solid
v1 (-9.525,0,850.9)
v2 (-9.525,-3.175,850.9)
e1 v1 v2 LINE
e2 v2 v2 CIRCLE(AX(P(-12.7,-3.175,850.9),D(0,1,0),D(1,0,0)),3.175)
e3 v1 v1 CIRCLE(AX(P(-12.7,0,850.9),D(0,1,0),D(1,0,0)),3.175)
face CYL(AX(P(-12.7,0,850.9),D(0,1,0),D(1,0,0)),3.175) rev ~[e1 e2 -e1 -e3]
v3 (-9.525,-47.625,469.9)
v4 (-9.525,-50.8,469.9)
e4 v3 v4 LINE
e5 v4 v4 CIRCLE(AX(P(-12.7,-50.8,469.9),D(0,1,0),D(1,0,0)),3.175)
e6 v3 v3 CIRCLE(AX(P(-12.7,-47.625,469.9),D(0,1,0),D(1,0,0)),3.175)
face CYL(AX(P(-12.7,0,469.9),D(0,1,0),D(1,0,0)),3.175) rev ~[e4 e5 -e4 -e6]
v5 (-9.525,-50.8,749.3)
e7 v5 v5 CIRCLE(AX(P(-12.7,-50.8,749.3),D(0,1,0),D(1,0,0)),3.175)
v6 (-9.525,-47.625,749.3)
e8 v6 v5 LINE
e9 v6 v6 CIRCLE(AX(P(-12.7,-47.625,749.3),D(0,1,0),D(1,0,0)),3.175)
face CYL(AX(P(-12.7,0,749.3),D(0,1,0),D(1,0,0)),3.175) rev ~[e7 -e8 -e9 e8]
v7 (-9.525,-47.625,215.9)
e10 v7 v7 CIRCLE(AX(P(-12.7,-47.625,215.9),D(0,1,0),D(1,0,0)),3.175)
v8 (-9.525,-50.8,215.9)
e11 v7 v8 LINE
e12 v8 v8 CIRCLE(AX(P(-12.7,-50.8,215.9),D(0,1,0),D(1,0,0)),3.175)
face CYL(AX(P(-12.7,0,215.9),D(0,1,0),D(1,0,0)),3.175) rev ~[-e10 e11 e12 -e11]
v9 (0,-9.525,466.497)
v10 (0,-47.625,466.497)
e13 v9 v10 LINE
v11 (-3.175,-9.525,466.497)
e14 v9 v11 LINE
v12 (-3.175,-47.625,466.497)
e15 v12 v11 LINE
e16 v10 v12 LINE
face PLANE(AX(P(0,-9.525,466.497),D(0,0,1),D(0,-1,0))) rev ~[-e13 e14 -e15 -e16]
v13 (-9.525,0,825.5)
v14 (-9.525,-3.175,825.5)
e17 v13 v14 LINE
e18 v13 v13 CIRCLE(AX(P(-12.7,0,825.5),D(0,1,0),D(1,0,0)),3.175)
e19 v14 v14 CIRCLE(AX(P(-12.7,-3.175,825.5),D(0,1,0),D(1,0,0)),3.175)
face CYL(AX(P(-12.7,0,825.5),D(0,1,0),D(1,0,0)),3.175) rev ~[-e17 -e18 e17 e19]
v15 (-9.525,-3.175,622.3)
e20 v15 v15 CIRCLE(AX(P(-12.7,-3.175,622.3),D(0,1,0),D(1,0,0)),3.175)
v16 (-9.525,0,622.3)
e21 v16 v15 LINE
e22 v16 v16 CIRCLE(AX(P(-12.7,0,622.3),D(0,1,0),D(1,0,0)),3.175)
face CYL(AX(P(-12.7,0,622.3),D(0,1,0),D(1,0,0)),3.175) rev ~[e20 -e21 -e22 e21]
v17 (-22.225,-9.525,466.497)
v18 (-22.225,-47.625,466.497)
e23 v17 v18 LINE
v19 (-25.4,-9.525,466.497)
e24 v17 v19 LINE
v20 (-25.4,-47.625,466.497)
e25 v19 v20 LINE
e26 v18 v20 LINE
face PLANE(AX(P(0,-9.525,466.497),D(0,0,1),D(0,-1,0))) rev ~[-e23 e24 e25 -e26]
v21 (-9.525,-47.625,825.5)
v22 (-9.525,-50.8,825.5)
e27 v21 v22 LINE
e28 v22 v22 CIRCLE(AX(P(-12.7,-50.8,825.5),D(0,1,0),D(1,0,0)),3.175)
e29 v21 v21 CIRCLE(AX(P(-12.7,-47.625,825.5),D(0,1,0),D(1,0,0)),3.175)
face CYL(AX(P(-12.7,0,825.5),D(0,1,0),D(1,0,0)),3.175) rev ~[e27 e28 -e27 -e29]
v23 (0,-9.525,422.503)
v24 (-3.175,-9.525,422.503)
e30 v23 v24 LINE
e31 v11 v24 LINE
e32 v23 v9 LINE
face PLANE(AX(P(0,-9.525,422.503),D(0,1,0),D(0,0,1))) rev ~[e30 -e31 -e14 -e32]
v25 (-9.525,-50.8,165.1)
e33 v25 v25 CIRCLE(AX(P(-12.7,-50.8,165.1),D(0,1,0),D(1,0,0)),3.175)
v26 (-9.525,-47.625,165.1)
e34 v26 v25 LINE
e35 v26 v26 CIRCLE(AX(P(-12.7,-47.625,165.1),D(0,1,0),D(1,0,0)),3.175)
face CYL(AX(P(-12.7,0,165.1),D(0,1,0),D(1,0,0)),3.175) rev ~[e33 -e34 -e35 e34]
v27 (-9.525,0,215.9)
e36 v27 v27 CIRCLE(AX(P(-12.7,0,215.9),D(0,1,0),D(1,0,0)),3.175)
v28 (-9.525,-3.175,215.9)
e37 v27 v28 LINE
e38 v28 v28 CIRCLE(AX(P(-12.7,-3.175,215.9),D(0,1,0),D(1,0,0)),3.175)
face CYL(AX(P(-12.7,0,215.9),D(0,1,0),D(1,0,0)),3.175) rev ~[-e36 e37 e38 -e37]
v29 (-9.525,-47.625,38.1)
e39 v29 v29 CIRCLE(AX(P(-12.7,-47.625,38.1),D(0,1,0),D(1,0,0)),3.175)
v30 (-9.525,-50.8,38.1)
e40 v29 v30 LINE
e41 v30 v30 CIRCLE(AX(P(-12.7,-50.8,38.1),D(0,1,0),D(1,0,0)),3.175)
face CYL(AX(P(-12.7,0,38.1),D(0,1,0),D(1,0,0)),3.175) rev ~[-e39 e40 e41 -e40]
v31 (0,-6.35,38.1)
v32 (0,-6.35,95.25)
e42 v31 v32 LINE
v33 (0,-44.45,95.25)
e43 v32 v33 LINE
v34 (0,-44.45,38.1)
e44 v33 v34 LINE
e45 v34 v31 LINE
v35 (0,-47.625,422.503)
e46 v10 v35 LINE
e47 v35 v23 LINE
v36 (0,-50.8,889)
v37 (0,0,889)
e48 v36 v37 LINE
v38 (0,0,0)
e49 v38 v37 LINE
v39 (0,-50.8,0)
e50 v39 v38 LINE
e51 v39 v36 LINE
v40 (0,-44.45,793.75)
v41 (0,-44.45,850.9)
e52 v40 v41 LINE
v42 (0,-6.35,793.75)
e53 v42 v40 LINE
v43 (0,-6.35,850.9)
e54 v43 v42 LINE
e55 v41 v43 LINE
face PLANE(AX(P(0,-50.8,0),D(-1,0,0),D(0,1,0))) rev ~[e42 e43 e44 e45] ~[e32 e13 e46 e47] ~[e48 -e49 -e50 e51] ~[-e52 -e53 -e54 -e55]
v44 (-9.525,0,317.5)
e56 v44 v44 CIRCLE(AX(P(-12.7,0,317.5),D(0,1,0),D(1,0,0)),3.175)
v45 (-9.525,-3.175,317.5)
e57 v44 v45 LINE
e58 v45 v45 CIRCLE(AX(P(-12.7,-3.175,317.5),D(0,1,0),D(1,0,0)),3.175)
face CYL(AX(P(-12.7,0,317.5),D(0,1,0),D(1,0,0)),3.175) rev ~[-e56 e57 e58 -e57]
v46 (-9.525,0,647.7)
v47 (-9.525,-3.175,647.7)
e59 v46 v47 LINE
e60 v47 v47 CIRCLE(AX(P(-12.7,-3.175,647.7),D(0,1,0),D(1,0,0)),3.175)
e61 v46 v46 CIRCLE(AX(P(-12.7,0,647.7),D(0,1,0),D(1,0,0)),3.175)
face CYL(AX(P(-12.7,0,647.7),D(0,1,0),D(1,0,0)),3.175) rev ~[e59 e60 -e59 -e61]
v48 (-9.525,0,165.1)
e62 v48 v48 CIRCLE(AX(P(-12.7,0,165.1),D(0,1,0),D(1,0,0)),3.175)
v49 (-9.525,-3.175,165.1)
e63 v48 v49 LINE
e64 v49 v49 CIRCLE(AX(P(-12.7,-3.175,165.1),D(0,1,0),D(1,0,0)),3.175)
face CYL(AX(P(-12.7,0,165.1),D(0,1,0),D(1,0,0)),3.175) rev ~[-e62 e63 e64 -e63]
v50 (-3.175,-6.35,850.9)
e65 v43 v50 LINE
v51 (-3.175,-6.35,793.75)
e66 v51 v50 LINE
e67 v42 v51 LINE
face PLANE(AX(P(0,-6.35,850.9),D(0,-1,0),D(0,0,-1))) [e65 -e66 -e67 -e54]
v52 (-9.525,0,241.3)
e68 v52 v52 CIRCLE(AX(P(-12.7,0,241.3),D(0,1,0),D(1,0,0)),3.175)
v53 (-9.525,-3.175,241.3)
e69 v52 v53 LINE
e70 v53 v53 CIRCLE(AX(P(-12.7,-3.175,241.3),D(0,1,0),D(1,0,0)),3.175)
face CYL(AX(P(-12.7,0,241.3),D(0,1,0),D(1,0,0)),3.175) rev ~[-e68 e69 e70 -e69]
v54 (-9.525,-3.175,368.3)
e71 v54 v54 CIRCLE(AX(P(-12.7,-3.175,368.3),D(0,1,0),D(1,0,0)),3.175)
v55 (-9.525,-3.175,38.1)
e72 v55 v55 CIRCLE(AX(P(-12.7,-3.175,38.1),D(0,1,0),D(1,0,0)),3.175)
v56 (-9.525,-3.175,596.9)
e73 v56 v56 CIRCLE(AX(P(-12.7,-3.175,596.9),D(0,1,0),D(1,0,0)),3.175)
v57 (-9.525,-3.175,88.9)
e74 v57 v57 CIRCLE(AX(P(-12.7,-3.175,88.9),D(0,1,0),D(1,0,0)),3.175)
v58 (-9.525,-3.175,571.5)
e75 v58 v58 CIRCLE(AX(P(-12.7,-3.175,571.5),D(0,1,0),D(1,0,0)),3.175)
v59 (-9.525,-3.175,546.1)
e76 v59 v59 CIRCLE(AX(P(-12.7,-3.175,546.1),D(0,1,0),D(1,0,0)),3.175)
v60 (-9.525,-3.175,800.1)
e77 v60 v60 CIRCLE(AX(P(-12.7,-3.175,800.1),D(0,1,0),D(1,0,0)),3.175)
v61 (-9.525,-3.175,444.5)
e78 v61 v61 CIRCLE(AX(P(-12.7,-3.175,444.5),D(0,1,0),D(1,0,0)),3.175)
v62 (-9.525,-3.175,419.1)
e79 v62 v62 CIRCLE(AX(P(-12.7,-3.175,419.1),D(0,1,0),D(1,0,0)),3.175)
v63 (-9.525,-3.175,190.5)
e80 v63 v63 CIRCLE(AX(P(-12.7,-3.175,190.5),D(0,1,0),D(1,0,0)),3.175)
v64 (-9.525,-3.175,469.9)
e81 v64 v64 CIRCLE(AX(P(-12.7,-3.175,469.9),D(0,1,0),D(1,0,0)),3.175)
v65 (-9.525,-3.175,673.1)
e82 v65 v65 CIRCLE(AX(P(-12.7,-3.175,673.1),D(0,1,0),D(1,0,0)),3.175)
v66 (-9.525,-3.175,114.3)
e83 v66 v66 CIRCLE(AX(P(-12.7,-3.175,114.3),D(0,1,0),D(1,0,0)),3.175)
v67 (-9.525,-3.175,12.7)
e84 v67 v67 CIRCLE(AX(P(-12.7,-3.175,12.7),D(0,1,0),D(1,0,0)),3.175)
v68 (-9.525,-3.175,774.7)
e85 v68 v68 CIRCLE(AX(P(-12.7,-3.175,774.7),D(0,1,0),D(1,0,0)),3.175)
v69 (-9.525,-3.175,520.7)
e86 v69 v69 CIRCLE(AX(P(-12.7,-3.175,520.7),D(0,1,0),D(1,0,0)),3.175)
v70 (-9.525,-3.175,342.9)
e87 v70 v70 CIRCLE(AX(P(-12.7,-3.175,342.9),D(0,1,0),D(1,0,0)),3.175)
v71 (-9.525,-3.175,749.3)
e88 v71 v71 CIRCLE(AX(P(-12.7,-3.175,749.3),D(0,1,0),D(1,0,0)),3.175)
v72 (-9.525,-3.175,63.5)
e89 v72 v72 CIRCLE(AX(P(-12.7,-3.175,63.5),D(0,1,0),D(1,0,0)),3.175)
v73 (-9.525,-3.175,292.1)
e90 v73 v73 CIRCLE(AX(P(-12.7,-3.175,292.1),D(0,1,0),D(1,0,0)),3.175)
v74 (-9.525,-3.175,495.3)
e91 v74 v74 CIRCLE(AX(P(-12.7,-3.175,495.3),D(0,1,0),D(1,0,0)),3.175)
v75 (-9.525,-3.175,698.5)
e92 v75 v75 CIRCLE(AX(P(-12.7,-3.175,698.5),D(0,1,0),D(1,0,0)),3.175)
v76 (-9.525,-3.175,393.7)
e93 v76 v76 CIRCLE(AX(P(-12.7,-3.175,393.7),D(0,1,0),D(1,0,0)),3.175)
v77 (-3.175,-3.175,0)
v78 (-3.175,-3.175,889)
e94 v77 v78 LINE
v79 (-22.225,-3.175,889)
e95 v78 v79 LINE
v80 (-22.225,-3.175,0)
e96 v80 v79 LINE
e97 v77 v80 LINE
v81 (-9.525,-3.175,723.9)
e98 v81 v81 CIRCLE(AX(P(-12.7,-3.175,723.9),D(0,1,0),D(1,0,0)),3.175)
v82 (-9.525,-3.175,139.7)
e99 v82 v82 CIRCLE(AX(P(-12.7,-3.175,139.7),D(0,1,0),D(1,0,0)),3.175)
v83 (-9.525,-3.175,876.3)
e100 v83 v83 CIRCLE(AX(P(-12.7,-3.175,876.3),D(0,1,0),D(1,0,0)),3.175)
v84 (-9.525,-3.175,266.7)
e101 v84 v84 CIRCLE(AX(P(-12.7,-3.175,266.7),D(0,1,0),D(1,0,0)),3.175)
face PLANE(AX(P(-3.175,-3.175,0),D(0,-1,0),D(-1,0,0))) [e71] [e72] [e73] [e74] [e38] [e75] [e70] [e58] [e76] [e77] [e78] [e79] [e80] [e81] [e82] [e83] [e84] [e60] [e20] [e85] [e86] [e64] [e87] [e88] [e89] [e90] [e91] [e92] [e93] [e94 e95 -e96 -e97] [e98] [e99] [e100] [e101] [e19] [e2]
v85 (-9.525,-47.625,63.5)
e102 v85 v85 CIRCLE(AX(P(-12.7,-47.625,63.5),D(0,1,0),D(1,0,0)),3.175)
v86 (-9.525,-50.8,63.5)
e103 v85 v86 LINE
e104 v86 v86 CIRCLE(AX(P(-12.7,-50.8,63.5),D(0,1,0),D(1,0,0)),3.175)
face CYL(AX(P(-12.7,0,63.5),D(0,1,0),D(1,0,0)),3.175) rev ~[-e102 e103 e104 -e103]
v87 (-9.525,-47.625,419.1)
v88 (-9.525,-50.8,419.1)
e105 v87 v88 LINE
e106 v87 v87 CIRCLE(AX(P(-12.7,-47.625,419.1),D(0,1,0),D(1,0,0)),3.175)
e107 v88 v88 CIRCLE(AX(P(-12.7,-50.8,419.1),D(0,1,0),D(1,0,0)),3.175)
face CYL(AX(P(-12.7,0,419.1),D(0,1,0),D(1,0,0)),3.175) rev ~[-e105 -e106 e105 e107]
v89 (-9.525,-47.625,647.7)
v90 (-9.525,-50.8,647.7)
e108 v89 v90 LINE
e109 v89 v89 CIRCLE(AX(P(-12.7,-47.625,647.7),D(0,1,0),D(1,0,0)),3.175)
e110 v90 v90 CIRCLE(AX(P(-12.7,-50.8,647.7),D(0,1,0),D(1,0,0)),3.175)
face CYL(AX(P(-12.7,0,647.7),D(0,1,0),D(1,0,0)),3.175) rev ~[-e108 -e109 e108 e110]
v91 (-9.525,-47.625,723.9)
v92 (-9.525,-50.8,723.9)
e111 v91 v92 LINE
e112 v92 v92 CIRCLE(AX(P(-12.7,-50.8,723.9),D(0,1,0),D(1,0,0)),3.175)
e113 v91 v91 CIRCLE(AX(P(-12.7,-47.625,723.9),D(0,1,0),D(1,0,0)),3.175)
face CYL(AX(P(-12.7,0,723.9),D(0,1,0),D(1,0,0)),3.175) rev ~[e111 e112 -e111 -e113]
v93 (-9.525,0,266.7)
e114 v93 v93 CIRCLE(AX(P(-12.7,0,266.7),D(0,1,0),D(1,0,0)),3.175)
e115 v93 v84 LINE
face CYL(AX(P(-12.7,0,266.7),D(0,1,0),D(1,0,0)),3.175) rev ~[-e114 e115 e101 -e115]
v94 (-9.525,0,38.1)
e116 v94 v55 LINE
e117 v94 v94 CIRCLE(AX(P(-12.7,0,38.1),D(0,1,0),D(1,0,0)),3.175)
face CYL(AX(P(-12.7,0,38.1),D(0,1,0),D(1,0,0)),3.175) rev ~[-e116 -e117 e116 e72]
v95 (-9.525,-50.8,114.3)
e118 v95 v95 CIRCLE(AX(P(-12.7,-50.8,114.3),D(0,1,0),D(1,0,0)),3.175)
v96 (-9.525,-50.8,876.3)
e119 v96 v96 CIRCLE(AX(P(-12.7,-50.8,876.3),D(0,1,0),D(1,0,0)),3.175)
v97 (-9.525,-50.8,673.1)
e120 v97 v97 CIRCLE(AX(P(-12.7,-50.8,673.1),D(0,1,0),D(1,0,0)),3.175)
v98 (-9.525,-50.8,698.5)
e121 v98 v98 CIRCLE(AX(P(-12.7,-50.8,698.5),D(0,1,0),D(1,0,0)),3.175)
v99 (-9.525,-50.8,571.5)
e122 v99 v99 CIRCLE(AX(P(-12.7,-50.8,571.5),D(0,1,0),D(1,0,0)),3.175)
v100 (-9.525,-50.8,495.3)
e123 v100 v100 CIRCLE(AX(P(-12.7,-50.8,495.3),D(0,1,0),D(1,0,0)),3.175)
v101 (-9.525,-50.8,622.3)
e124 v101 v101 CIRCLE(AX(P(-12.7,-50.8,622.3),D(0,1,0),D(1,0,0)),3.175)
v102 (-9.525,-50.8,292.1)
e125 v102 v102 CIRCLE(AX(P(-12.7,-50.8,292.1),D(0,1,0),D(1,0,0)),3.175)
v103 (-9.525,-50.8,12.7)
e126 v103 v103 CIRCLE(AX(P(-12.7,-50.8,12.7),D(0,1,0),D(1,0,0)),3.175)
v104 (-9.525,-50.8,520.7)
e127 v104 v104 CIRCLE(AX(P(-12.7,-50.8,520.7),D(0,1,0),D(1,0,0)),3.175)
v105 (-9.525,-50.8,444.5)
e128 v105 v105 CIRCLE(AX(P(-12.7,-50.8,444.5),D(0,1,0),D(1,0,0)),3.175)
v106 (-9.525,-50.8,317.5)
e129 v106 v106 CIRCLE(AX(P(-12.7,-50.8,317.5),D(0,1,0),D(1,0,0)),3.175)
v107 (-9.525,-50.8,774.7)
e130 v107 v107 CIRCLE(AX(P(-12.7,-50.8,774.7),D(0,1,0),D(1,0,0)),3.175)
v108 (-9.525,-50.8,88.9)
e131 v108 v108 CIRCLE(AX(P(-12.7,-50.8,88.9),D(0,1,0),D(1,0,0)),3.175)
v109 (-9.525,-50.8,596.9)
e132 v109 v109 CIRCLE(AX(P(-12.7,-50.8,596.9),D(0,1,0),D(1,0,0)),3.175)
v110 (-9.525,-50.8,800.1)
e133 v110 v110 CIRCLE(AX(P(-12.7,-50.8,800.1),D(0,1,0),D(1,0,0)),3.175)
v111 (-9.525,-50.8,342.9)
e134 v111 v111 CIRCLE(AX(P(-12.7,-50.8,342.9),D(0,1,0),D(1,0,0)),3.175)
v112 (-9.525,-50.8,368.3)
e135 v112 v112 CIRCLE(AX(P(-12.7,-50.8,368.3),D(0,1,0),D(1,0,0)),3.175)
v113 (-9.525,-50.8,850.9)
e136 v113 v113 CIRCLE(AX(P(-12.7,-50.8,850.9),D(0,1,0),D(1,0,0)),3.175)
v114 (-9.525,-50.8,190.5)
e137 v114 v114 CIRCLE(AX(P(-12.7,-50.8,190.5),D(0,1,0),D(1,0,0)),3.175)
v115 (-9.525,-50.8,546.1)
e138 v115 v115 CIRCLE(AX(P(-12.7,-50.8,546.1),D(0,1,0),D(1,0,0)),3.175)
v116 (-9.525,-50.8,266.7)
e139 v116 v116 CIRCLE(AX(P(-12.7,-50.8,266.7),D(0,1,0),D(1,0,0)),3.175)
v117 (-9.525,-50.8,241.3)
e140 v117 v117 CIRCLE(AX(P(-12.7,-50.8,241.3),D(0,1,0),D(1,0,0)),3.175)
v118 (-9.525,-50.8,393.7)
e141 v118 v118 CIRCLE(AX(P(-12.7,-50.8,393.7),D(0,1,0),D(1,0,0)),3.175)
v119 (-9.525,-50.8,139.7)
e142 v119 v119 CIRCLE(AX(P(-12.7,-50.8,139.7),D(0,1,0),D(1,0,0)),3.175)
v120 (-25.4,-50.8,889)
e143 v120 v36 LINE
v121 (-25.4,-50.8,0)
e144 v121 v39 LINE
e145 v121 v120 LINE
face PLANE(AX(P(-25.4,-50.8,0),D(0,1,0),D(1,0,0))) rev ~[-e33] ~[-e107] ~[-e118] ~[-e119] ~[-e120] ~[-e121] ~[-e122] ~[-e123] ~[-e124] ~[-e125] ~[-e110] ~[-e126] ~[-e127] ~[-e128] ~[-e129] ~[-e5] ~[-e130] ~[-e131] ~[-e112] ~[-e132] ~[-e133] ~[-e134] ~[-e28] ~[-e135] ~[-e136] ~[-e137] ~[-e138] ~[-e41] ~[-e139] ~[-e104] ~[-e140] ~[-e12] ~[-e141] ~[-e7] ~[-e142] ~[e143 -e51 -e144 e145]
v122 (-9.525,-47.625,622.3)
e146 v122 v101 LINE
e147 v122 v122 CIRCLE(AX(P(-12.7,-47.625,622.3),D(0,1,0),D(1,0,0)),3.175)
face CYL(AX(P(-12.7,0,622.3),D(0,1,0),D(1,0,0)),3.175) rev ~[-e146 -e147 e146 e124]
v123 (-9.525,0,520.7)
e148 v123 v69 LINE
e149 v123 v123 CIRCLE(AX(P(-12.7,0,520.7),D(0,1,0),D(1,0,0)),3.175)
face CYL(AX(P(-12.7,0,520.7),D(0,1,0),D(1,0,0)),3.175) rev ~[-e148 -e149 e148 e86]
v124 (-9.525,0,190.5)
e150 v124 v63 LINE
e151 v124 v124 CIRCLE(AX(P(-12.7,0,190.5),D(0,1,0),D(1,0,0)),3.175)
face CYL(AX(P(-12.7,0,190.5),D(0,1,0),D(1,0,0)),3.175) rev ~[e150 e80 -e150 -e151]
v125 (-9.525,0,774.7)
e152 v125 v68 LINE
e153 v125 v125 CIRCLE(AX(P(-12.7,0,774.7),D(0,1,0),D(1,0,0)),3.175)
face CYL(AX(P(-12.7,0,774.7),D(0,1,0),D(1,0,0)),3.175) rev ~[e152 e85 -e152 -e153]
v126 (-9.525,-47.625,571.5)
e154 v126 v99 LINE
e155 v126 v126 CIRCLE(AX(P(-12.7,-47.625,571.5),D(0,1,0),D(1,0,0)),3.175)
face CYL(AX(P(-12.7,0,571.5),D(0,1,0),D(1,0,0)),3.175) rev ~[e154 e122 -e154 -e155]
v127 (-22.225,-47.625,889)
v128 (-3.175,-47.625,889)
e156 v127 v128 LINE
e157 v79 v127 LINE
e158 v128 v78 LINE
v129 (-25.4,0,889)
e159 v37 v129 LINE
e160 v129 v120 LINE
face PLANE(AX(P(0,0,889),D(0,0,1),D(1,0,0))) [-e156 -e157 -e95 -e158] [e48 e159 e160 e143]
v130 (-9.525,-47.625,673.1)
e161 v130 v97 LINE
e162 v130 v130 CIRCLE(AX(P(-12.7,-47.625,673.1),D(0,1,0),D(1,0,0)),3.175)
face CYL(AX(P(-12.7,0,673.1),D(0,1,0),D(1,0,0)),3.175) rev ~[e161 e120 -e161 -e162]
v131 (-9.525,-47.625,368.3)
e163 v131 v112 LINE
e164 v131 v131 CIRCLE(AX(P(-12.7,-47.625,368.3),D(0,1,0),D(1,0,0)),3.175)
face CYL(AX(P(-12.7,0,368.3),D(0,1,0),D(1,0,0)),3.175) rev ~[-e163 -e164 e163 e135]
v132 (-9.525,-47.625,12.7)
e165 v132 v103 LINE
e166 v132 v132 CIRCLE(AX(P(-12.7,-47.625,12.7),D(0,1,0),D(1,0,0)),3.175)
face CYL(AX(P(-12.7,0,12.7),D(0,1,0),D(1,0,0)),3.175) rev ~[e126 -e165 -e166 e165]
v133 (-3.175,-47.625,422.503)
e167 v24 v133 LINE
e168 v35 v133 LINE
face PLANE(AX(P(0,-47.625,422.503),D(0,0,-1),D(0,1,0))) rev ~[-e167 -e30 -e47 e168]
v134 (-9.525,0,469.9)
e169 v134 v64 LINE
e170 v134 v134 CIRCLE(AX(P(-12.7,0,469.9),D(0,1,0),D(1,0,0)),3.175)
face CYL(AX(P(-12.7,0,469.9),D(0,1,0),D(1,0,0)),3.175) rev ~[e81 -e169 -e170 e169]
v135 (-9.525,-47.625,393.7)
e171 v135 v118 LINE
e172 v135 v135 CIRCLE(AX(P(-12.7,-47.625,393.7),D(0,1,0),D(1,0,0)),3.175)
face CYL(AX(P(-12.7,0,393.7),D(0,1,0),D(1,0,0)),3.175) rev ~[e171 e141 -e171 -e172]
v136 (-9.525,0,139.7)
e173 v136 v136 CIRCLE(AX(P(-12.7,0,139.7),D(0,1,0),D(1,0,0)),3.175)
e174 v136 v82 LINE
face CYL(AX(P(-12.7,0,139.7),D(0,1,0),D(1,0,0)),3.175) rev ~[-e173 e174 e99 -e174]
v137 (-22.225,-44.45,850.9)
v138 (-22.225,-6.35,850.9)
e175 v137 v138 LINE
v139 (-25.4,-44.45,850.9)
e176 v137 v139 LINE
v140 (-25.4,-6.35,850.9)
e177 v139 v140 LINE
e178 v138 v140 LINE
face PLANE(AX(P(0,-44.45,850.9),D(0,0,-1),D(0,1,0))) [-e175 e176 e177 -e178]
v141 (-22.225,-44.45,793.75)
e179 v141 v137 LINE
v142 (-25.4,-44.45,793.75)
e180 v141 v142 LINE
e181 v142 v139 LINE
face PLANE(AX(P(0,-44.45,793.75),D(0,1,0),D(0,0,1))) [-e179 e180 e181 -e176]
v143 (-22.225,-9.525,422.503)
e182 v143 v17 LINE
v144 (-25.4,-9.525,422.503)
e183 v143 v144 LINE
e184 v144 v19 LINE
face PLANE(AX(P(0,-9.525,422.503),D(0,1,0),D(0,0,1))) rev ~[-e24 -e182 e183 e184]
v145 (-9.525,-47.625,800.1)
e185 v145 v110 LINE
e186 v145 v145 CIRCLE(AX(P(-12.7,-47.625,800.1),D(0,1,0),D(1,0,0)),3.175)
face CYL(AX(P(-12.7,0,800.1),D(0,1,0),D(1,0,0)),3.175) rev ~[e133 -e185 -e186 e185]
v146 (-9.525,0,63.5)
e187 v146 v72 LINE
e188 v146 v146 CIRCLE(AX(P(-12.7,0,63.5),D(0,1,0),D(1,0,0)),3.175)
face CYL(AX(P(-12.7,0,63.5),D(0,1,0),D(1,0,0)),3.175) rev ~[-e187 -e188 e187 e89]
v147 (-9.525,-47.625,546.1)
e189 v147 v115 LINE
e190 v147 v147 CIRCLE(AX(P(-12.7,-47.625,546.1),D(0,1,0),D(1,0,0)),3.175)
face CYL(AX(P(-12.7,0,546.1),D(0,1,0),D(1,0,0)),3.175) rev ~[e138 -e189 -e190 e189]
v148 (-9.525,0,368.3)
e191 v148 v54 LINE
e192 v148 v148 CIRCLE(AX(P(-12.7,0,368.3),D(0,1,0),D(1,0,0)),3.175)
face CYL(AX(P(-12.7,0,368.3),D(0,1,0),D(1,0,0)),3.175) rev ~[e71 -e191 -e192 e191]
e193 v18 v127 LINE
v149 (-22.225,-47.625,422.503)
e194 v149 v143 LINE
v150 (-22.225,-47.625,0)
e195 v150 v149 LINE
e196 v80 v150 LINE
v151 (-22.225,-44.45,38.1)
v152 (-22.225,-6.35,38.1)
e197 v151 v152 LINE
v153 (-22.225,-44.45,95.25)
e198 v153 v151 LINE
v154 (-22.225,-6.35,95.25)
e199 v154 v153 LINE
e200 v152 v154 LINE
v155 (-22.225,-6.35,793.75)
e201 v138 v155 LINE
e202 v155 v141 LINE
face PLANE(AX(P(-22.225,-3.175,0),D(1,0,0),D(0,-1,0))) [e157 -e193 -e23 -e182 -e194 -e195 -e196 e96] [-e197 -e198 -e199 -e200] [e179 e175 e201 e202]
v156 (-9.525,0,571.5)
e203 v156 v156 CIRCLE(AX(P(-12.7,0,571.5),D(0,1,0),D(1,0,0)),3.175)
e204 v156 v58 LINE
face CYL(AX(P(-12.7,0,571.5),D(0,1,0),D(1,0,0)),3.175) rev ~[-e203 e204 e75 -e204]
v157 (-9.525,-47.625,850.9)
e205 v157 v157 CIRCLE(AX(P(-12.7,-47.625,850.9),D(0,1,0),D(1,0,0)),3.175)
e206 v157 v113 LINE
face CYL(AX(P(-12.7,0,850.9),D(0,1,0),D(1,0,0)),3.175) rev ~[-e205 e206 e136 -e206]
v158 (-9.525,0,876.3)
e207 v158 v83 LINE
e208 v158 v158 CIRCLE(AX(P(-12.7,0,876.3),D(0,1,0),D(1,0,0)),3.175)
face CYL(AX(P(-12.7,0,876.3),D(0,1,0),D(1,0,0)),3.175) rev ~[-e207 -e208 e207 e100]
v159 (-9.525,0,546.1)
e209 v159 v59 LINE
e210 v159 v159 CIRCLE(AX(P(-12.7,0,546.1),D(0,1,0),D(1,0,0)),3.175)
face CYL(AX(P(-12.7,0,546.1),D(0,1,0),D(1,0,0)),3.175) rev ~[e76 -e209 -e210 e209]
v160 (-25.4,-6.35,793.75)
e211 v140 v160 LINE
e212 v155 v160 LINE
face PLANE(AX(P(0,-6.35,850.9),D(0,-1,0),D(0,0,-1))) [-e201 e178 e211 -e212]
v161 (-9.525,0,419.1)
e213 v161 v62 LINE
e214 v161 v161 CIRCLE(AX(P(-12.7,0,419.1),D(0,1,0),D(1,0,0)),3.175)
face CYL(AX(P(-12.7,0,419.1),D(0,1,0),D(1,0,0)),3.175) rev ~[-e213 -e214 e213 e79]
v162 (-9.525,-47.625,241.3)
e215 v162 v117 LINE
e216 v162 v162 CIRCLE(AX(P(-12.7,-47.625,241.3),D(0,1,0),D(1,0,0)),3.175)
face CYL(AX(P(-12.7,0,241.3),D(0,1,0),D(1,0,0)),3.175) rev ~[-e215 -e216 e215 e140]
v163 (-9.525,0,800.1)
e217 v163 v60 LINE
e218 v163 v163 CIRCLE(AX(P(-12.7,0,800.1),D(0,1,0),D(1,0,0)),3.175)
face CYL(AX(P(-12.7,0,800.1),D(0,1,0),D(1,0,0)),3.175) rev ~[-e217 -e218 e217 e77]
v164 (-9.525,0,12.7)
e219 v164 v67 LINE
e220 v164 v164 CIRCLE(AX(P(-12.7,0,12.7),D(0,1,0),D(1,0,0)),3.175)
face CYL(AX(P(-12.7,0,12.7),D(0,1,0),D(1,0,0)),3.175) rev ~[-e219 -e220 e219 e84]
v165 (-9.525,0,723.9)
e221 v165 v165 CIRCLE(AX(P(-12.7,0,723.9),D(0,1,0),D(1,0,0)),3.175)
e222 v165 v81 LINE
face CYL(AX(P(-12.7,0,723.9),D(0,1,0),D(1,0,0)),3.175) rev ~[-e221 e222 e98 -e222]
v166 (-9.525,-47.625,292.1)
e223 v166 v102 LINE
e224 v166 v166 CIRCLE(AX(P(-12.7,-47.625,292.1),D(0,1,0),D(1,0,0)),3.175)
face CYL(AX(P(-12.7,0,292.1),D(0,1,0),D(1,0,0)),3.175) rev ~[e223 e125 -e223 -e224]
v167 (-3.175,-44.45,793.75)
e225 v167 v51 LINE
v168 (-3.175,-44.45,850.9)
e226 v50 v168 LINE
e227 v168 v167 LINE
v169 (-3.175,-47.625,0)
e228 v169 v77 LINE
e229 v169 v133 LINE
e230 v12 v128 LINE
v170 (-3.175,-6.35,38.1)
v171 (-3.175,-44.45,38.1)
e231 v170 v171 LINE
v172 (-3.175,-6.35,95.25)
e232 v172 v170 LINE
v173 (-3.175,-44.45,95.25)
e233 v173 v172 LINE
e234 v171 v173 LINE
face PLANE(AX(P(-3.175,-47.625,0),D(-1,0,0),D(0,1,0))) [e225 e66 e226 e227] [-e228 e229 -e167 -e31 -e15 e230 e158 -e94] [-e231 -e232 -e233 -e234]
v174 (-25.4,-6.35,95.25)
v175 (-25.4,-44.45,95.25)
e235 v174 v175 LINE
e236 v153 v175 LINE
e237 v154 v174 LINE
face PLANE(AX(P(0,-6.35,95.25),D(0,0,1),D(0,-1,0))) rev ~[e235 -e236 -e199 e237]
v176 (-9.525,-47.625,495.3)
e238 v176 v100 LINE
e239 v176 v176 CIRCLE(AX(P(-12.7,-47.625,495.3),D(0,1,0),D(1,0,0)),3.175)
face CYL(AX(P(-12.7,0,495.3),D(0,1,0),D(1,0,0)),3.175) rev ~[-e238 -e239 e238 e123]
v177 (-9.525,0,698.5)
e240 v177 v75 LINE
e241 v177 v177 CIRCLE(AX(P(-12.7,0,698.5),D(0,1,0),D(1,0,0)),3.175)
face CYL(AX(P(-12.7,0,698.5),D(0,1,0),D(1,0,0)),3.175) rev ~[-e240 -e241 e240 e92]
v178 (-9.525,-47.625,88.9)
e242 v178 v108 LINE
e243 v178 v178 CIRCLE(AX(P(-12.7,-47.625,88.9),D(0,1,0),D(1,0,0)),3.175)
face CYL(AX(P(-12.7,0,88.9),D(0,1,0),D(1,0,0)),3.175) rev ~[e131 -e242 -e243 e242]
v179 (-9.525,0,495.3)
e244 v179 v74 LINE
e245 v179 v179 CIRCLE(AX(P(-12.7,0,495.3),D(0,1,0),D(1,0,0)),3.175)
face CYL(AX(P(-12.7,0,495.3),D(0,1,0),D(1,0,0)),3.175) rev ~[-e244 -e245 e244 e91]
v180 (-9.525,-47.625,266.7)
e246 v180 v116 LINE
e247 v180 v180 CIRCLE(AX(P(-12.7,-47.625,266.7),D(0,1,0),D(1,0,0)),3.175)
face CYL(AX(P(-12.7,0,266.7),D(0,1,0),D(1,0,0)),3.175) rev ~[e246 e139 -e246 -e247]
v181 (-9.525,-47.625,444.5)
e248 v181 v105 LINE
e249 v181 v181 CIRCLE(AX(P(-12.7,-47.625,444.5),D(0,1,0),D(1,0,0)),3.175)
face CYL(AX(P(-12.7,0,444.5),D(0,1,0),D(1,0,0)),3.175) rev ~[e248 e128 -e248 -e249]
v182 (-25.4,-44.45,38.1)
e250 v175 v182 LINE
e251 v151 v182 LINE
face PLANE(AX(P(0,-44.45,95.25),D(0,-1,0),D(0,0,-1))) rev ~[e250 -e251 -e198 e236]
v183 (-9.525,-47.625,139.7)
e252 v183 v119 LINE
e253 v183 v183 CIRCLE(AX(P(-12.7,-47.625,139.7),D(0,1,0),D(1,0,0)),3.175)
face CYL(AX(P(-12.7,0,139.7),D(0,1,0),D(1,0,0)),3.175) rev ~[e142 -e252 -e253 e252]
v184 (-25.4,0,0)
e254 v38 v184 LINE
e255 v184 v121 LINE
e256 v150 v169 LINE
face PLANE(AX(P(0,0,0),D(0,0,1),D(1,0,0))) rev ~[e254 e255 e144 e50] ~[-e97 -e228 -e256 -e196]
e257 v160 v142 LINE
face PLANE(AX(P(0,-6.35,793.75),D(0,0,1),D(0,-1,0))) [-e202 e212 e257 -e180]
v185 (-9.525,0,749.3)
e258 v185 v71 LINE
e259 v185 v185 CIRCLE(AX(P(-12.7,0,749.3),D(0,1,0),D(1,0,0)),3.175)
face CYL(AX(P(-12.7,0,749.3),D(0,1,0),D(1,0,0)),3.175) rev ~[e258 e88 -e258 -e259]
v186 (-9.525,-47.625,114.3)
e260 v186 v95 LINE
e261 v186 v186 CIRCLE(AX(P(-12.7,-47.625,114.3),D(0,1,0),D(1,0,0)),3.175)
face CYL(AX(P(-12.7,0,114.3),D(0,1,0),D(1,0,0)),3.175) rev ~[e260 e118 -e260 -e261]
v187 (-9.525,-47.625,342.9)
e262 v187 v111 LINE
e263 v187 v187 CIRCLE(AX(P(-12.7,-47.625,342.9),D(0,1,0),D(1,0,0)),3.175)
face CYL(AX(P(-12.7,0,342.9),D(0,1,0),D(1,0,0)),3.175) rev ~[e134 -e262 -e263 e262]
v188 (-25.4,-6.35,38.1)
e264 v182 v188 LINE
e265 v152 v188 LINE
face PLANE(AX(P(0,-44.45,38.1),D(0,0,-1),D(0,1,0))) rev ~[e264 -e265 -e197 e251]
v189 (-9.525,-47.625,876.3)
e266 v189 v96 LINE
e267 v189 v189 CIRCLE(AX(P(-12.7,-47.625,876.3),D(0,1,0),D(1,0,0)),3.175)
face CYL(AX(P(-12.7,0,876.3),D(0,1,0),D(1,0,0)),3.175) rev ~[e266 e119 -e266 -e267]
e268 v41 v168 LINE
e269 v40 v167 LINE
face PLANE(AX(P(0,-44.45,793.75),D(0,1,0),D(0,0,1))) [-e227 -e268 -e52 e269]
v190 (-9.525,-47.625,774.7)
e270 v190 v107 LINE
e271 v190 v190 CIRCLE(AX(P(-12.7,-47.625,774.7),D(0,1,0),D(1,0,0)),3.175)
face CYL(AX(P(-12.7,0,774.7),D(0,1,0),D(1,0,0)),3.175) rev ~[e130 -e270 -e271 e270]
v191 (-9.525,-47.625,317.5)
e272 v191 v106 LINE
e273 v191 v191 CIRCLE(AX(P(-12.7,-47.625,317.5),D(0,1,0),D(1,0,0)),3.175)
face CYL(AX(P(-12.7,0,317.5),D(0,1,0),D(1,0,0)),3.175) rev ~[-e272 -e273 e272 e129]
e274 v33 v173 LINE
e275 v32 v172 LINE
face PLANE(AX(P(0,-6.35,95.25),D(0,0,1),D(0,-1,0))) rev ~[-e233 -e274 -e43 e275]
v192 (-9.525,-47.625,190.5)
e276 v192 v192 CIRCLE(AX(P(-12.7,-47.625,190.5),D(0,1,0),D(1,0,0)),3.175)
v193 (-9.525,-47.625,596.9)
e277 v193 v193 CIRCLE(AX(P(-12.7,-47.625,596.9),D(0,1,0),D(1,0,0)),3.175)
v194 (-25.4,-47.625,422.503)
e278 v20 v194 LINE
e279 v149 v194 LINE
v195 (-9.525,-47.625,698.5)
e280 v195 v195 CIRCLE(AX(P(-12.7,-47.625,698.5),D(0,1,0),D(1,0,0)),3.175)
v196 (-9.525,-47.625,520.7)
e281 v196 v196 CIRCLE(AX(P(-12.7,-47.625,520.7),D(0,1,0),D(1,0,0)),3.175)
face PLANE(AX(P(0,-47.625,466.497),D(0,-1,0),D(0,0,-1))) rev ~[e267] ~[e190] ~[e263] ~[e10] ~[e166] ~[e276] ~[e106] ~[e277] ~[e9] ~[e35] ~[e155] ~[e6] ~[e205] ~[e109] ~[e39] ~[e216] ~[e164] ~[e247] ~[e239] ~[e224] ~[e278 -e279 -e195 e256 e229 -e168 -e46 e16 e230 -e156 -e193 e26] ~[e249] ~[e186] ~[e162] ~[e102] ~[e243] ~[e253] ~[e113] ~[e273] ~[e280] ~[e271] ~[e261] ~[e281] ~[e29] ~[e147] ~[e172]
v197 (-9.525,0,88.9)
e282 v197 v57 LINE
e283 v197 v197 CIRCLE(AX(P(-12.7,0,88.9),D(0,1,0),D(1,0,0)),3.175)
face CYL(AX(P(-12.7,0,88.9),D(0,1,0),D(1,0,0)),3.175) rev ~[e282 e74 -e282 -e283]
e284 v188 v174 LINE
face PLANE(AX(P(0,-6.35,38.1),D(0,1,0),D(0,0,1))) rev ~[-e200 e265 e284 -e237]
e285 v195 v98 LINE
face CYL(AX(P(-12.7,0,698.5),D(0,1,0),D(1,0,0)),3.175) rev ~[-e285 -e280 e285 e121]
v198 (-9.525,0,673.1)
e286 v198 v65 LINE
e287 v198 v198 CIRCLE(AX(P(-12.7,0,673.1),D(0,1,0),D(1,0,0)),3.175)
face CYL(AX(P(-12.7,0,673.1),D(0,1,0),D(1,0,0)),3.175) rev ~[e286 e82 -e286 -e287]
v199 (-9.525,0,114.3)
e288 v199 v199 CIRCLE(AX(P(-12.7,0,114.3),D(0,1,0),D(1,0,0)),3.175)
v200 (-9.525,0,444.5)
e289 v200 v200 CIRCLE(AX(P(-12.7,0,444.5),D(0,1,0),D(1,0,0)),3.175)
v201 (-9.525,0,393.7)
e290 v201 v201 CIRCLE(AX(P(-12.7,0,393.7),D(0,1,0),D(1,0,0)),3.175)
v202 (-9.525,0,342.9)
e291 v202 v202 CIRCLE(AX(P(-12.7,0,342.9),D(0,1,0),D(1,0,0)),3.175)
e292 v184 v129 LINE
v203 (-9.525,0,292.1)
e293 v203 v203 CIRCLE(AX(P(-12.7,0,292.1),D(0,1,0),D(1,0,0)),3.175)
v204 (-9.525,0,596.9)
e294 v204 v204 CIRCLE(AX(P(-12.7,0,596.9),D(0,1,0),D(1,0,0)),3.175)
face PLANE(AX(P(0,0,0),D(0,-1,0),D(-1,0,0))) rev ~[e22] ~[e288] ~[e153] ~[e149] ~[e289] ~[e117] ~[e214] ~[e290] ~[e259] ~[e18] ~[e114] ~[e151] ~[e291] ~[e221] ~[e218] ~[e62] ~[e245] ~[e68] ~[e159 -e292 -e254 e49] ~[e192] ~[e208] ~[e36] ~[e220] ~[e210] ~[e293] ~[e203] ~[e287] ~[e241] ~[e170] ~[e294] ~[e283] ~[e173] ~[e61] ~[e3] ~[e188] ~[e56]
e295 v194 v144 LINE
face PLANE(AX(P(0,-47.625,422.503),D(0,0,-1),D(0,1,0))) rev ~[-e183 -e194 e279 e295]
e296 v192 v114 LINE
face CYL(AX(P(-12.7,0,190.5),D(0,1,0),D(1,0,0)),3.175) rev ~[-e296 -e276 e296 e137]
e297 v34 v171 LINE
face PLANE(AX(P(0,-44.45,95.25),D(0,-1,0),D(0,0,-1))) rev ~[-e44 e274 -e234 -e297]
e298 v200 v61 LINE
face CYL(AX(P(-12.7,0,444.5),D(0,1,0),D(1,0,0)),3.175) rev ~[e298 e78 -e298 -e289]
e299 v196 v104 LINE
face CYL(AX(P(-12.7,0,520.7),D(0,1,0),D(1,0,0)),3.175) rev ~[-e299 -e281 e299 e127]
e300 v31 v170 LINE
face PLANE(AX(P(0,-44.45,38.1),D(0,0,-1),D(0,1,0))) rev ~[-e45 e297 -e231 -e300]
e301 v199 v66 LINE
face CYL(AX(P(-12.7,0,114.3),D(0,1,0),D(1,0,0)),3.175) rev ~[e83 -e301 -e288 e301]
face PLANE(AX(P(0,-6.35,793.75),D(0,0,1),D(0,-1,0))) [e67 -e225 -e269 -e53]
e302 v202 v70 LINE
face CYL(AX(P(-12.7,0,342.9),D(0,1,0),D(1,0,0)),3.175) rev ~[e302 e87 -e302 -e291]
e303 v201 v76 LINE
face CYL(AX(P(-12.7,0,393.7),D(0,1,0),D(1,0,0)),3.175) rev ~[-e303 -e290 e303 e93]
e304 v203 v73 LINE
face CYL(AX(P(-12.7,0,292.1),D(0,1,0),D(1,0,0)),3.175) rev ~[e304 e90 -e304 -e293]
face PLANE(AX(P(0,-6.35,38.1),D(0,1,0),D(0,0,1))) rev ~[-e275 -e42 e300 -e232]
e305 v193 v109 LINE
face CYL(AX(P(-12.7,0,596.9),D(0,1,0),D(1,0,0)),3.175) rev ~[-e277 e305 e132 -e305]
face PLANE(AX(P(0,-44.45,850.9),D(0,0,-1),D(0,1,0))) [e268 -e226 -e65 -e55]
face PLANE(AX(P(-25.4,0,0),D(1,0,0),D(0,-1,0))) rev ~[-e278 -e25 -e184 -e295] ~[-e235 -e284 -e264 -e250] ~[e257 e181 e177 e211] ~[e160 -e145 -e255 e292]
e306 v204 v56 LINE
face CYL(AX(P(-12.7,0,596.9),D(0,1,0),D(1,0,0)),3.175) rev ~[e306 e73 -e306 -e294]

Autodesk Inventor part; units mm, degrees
ref_plane "YZ Plane" through (0, 0, 0) normal (1, 0, 0) x (0, 1, 0)
ref_plane "XZ Plane" through (0, 0, 0) normal (0, 1, 0) x (-1, 0, 0)
ref_plane "XY Plane" through (0, 0, 0) normal (0, 0, 1) x (1, 0, 0)
sketch "Sketch1" plane through (0, 0, 0) normal (0, 0, 1) x (1, 0, 0)
  line L0 (0, 0) -> (-25.4, 0)
  line L1 (-25.4, 0) -> (-25.4, -50.8)
  line L2 (-25.4, -50.8) -> (0, -50.8)
  line L3 (0, -50.8) -> (0, 0)
  line L4 (-3.175, -3.175) -> (-22.225, -3.175)
  line L5 (-22.225, -3.175) -> (-22.225, -47.625)
  line L6 (-22.225, -47.625) -> (-3.175, -47.625)
  line L7 (-3.175, -47.625) -> (-3.175, -3.175)
  dimension "d0" = 25.4
  dimension "d1" = 50.8
  dimension "d2" = 3.175
  dimension "d3" = 3.175
  dimension "d4" = 3.175
  dimension "d5" = 3.175
extrude "Extrusion1" add sketch "Sketch1" along normal blind 889
sketch "Sketch2" plane through (0, -50.8, 0) normal (1, 0, 0) x (0, 0, -1)
  line L0 (-889, 50.8) -> (-889, 0) projected
  line L1 (0, 0) -> (-889, 0) projected
  line L2 (-850.9, 44.45) -> (-793.75, 44.45)
  line L3 (-793.75, 44.45) -> (-793.75, 6.35)
  line L4 (-793.75, 6.35) -> (-850.9, 6.35)
  line L5 (-850.9, 6.35) -> (-850.9, 44.45)
  line L6 (-38.1, 44.45) -> (-95.25, 44.45)
  line L7 (-95.25, 44.45) -> (-95.25, 6.35)
  line L8 (-95.25, 6.35) -> (-38.1, 6.35)
  line L9 (-38.1, 6.35) -> (-38.1, 44.45)
  line L10 (0, 0) -> (0, 50.8) construction
  line L11 (-422.503, 41.275) -> (-466.497, 41.275)
  line L12 (-466.497, 41.275) -> (-466.497, 3.175)
  line L13 (-466.497, 3.175) -> (-422.503, 3.175)
  line L14 (-422.503, 3.175) -> (-422.503, 41.275)
  line L15 (-889, 41.275) -> (-466.497, 41.275) construction
  line L16 (-422.503, 47.625) -> (0, 47.625) construction
  line L17 (-433.5015, 41.275) -> (-422.503, 22.225) construction
  line L18 (-422.503, 22.225) -> (-433.5015, 3.175) construction
  line L19 (-433.5015, 3.175) -> (-455.4985, 3.175) construction
  line L20 (-455.4985, 3.175) -> (-466.497, 22.225) construction
  line L21 (-466.497, 22.225) -> (-455.4985, 41.275) construction
  line L22 (-455.4985, 41.275) -> (-433.5015, 41.275) construction
  line L23 (-422.503, 22.225) -> (0, 22.225) construction
  line L24 (-466.497, 22.225) -> (-889, 22.225) construction
  point P0 (-428.0022, 34.925)
  point P1 (-444.5, 41.275)
  point P2 (-444.5, 22.225)
  dimension "d8" = 38.1
  dimension "d9" = 57.15
  dimension "d10" = 6.35
  dimension "d11" = 38.1
  dimension "d14" = 38.1
  dimension "d15" = 57.15
  dimension "d16" = 38.1
  dimension "d17" = 6.35
  dimension "d27" = 38.1
  dimension "d28" = 3.175
extrude "Extrusion2" cut sketch "Sketch2" against normal through all
sketch "Sketch4" plane through (-25.4, 0, 0) normal (0, 1, 0) x (1, 0, 0)
  line L0 (25.4, 0) -> (25.4, -889) projected
  line L1 (25.4, 0) -> (0, 0) projected
  circle A0 centre (12.7, -12.7) radius 3.175
  dimension "d19" = 6.35
  dimension "d20" = 12.7
  dimension "d21" = 12.7
extrude "Extrusion3" cut sketch "Sketch4" against normal through all
pattern_linear "Rectangular Pattern1" count 35 spacing 25.4 along (0, 0, 1) of "Extrusion3"
properties part number "SideRail" material "Aluminum-6061"
